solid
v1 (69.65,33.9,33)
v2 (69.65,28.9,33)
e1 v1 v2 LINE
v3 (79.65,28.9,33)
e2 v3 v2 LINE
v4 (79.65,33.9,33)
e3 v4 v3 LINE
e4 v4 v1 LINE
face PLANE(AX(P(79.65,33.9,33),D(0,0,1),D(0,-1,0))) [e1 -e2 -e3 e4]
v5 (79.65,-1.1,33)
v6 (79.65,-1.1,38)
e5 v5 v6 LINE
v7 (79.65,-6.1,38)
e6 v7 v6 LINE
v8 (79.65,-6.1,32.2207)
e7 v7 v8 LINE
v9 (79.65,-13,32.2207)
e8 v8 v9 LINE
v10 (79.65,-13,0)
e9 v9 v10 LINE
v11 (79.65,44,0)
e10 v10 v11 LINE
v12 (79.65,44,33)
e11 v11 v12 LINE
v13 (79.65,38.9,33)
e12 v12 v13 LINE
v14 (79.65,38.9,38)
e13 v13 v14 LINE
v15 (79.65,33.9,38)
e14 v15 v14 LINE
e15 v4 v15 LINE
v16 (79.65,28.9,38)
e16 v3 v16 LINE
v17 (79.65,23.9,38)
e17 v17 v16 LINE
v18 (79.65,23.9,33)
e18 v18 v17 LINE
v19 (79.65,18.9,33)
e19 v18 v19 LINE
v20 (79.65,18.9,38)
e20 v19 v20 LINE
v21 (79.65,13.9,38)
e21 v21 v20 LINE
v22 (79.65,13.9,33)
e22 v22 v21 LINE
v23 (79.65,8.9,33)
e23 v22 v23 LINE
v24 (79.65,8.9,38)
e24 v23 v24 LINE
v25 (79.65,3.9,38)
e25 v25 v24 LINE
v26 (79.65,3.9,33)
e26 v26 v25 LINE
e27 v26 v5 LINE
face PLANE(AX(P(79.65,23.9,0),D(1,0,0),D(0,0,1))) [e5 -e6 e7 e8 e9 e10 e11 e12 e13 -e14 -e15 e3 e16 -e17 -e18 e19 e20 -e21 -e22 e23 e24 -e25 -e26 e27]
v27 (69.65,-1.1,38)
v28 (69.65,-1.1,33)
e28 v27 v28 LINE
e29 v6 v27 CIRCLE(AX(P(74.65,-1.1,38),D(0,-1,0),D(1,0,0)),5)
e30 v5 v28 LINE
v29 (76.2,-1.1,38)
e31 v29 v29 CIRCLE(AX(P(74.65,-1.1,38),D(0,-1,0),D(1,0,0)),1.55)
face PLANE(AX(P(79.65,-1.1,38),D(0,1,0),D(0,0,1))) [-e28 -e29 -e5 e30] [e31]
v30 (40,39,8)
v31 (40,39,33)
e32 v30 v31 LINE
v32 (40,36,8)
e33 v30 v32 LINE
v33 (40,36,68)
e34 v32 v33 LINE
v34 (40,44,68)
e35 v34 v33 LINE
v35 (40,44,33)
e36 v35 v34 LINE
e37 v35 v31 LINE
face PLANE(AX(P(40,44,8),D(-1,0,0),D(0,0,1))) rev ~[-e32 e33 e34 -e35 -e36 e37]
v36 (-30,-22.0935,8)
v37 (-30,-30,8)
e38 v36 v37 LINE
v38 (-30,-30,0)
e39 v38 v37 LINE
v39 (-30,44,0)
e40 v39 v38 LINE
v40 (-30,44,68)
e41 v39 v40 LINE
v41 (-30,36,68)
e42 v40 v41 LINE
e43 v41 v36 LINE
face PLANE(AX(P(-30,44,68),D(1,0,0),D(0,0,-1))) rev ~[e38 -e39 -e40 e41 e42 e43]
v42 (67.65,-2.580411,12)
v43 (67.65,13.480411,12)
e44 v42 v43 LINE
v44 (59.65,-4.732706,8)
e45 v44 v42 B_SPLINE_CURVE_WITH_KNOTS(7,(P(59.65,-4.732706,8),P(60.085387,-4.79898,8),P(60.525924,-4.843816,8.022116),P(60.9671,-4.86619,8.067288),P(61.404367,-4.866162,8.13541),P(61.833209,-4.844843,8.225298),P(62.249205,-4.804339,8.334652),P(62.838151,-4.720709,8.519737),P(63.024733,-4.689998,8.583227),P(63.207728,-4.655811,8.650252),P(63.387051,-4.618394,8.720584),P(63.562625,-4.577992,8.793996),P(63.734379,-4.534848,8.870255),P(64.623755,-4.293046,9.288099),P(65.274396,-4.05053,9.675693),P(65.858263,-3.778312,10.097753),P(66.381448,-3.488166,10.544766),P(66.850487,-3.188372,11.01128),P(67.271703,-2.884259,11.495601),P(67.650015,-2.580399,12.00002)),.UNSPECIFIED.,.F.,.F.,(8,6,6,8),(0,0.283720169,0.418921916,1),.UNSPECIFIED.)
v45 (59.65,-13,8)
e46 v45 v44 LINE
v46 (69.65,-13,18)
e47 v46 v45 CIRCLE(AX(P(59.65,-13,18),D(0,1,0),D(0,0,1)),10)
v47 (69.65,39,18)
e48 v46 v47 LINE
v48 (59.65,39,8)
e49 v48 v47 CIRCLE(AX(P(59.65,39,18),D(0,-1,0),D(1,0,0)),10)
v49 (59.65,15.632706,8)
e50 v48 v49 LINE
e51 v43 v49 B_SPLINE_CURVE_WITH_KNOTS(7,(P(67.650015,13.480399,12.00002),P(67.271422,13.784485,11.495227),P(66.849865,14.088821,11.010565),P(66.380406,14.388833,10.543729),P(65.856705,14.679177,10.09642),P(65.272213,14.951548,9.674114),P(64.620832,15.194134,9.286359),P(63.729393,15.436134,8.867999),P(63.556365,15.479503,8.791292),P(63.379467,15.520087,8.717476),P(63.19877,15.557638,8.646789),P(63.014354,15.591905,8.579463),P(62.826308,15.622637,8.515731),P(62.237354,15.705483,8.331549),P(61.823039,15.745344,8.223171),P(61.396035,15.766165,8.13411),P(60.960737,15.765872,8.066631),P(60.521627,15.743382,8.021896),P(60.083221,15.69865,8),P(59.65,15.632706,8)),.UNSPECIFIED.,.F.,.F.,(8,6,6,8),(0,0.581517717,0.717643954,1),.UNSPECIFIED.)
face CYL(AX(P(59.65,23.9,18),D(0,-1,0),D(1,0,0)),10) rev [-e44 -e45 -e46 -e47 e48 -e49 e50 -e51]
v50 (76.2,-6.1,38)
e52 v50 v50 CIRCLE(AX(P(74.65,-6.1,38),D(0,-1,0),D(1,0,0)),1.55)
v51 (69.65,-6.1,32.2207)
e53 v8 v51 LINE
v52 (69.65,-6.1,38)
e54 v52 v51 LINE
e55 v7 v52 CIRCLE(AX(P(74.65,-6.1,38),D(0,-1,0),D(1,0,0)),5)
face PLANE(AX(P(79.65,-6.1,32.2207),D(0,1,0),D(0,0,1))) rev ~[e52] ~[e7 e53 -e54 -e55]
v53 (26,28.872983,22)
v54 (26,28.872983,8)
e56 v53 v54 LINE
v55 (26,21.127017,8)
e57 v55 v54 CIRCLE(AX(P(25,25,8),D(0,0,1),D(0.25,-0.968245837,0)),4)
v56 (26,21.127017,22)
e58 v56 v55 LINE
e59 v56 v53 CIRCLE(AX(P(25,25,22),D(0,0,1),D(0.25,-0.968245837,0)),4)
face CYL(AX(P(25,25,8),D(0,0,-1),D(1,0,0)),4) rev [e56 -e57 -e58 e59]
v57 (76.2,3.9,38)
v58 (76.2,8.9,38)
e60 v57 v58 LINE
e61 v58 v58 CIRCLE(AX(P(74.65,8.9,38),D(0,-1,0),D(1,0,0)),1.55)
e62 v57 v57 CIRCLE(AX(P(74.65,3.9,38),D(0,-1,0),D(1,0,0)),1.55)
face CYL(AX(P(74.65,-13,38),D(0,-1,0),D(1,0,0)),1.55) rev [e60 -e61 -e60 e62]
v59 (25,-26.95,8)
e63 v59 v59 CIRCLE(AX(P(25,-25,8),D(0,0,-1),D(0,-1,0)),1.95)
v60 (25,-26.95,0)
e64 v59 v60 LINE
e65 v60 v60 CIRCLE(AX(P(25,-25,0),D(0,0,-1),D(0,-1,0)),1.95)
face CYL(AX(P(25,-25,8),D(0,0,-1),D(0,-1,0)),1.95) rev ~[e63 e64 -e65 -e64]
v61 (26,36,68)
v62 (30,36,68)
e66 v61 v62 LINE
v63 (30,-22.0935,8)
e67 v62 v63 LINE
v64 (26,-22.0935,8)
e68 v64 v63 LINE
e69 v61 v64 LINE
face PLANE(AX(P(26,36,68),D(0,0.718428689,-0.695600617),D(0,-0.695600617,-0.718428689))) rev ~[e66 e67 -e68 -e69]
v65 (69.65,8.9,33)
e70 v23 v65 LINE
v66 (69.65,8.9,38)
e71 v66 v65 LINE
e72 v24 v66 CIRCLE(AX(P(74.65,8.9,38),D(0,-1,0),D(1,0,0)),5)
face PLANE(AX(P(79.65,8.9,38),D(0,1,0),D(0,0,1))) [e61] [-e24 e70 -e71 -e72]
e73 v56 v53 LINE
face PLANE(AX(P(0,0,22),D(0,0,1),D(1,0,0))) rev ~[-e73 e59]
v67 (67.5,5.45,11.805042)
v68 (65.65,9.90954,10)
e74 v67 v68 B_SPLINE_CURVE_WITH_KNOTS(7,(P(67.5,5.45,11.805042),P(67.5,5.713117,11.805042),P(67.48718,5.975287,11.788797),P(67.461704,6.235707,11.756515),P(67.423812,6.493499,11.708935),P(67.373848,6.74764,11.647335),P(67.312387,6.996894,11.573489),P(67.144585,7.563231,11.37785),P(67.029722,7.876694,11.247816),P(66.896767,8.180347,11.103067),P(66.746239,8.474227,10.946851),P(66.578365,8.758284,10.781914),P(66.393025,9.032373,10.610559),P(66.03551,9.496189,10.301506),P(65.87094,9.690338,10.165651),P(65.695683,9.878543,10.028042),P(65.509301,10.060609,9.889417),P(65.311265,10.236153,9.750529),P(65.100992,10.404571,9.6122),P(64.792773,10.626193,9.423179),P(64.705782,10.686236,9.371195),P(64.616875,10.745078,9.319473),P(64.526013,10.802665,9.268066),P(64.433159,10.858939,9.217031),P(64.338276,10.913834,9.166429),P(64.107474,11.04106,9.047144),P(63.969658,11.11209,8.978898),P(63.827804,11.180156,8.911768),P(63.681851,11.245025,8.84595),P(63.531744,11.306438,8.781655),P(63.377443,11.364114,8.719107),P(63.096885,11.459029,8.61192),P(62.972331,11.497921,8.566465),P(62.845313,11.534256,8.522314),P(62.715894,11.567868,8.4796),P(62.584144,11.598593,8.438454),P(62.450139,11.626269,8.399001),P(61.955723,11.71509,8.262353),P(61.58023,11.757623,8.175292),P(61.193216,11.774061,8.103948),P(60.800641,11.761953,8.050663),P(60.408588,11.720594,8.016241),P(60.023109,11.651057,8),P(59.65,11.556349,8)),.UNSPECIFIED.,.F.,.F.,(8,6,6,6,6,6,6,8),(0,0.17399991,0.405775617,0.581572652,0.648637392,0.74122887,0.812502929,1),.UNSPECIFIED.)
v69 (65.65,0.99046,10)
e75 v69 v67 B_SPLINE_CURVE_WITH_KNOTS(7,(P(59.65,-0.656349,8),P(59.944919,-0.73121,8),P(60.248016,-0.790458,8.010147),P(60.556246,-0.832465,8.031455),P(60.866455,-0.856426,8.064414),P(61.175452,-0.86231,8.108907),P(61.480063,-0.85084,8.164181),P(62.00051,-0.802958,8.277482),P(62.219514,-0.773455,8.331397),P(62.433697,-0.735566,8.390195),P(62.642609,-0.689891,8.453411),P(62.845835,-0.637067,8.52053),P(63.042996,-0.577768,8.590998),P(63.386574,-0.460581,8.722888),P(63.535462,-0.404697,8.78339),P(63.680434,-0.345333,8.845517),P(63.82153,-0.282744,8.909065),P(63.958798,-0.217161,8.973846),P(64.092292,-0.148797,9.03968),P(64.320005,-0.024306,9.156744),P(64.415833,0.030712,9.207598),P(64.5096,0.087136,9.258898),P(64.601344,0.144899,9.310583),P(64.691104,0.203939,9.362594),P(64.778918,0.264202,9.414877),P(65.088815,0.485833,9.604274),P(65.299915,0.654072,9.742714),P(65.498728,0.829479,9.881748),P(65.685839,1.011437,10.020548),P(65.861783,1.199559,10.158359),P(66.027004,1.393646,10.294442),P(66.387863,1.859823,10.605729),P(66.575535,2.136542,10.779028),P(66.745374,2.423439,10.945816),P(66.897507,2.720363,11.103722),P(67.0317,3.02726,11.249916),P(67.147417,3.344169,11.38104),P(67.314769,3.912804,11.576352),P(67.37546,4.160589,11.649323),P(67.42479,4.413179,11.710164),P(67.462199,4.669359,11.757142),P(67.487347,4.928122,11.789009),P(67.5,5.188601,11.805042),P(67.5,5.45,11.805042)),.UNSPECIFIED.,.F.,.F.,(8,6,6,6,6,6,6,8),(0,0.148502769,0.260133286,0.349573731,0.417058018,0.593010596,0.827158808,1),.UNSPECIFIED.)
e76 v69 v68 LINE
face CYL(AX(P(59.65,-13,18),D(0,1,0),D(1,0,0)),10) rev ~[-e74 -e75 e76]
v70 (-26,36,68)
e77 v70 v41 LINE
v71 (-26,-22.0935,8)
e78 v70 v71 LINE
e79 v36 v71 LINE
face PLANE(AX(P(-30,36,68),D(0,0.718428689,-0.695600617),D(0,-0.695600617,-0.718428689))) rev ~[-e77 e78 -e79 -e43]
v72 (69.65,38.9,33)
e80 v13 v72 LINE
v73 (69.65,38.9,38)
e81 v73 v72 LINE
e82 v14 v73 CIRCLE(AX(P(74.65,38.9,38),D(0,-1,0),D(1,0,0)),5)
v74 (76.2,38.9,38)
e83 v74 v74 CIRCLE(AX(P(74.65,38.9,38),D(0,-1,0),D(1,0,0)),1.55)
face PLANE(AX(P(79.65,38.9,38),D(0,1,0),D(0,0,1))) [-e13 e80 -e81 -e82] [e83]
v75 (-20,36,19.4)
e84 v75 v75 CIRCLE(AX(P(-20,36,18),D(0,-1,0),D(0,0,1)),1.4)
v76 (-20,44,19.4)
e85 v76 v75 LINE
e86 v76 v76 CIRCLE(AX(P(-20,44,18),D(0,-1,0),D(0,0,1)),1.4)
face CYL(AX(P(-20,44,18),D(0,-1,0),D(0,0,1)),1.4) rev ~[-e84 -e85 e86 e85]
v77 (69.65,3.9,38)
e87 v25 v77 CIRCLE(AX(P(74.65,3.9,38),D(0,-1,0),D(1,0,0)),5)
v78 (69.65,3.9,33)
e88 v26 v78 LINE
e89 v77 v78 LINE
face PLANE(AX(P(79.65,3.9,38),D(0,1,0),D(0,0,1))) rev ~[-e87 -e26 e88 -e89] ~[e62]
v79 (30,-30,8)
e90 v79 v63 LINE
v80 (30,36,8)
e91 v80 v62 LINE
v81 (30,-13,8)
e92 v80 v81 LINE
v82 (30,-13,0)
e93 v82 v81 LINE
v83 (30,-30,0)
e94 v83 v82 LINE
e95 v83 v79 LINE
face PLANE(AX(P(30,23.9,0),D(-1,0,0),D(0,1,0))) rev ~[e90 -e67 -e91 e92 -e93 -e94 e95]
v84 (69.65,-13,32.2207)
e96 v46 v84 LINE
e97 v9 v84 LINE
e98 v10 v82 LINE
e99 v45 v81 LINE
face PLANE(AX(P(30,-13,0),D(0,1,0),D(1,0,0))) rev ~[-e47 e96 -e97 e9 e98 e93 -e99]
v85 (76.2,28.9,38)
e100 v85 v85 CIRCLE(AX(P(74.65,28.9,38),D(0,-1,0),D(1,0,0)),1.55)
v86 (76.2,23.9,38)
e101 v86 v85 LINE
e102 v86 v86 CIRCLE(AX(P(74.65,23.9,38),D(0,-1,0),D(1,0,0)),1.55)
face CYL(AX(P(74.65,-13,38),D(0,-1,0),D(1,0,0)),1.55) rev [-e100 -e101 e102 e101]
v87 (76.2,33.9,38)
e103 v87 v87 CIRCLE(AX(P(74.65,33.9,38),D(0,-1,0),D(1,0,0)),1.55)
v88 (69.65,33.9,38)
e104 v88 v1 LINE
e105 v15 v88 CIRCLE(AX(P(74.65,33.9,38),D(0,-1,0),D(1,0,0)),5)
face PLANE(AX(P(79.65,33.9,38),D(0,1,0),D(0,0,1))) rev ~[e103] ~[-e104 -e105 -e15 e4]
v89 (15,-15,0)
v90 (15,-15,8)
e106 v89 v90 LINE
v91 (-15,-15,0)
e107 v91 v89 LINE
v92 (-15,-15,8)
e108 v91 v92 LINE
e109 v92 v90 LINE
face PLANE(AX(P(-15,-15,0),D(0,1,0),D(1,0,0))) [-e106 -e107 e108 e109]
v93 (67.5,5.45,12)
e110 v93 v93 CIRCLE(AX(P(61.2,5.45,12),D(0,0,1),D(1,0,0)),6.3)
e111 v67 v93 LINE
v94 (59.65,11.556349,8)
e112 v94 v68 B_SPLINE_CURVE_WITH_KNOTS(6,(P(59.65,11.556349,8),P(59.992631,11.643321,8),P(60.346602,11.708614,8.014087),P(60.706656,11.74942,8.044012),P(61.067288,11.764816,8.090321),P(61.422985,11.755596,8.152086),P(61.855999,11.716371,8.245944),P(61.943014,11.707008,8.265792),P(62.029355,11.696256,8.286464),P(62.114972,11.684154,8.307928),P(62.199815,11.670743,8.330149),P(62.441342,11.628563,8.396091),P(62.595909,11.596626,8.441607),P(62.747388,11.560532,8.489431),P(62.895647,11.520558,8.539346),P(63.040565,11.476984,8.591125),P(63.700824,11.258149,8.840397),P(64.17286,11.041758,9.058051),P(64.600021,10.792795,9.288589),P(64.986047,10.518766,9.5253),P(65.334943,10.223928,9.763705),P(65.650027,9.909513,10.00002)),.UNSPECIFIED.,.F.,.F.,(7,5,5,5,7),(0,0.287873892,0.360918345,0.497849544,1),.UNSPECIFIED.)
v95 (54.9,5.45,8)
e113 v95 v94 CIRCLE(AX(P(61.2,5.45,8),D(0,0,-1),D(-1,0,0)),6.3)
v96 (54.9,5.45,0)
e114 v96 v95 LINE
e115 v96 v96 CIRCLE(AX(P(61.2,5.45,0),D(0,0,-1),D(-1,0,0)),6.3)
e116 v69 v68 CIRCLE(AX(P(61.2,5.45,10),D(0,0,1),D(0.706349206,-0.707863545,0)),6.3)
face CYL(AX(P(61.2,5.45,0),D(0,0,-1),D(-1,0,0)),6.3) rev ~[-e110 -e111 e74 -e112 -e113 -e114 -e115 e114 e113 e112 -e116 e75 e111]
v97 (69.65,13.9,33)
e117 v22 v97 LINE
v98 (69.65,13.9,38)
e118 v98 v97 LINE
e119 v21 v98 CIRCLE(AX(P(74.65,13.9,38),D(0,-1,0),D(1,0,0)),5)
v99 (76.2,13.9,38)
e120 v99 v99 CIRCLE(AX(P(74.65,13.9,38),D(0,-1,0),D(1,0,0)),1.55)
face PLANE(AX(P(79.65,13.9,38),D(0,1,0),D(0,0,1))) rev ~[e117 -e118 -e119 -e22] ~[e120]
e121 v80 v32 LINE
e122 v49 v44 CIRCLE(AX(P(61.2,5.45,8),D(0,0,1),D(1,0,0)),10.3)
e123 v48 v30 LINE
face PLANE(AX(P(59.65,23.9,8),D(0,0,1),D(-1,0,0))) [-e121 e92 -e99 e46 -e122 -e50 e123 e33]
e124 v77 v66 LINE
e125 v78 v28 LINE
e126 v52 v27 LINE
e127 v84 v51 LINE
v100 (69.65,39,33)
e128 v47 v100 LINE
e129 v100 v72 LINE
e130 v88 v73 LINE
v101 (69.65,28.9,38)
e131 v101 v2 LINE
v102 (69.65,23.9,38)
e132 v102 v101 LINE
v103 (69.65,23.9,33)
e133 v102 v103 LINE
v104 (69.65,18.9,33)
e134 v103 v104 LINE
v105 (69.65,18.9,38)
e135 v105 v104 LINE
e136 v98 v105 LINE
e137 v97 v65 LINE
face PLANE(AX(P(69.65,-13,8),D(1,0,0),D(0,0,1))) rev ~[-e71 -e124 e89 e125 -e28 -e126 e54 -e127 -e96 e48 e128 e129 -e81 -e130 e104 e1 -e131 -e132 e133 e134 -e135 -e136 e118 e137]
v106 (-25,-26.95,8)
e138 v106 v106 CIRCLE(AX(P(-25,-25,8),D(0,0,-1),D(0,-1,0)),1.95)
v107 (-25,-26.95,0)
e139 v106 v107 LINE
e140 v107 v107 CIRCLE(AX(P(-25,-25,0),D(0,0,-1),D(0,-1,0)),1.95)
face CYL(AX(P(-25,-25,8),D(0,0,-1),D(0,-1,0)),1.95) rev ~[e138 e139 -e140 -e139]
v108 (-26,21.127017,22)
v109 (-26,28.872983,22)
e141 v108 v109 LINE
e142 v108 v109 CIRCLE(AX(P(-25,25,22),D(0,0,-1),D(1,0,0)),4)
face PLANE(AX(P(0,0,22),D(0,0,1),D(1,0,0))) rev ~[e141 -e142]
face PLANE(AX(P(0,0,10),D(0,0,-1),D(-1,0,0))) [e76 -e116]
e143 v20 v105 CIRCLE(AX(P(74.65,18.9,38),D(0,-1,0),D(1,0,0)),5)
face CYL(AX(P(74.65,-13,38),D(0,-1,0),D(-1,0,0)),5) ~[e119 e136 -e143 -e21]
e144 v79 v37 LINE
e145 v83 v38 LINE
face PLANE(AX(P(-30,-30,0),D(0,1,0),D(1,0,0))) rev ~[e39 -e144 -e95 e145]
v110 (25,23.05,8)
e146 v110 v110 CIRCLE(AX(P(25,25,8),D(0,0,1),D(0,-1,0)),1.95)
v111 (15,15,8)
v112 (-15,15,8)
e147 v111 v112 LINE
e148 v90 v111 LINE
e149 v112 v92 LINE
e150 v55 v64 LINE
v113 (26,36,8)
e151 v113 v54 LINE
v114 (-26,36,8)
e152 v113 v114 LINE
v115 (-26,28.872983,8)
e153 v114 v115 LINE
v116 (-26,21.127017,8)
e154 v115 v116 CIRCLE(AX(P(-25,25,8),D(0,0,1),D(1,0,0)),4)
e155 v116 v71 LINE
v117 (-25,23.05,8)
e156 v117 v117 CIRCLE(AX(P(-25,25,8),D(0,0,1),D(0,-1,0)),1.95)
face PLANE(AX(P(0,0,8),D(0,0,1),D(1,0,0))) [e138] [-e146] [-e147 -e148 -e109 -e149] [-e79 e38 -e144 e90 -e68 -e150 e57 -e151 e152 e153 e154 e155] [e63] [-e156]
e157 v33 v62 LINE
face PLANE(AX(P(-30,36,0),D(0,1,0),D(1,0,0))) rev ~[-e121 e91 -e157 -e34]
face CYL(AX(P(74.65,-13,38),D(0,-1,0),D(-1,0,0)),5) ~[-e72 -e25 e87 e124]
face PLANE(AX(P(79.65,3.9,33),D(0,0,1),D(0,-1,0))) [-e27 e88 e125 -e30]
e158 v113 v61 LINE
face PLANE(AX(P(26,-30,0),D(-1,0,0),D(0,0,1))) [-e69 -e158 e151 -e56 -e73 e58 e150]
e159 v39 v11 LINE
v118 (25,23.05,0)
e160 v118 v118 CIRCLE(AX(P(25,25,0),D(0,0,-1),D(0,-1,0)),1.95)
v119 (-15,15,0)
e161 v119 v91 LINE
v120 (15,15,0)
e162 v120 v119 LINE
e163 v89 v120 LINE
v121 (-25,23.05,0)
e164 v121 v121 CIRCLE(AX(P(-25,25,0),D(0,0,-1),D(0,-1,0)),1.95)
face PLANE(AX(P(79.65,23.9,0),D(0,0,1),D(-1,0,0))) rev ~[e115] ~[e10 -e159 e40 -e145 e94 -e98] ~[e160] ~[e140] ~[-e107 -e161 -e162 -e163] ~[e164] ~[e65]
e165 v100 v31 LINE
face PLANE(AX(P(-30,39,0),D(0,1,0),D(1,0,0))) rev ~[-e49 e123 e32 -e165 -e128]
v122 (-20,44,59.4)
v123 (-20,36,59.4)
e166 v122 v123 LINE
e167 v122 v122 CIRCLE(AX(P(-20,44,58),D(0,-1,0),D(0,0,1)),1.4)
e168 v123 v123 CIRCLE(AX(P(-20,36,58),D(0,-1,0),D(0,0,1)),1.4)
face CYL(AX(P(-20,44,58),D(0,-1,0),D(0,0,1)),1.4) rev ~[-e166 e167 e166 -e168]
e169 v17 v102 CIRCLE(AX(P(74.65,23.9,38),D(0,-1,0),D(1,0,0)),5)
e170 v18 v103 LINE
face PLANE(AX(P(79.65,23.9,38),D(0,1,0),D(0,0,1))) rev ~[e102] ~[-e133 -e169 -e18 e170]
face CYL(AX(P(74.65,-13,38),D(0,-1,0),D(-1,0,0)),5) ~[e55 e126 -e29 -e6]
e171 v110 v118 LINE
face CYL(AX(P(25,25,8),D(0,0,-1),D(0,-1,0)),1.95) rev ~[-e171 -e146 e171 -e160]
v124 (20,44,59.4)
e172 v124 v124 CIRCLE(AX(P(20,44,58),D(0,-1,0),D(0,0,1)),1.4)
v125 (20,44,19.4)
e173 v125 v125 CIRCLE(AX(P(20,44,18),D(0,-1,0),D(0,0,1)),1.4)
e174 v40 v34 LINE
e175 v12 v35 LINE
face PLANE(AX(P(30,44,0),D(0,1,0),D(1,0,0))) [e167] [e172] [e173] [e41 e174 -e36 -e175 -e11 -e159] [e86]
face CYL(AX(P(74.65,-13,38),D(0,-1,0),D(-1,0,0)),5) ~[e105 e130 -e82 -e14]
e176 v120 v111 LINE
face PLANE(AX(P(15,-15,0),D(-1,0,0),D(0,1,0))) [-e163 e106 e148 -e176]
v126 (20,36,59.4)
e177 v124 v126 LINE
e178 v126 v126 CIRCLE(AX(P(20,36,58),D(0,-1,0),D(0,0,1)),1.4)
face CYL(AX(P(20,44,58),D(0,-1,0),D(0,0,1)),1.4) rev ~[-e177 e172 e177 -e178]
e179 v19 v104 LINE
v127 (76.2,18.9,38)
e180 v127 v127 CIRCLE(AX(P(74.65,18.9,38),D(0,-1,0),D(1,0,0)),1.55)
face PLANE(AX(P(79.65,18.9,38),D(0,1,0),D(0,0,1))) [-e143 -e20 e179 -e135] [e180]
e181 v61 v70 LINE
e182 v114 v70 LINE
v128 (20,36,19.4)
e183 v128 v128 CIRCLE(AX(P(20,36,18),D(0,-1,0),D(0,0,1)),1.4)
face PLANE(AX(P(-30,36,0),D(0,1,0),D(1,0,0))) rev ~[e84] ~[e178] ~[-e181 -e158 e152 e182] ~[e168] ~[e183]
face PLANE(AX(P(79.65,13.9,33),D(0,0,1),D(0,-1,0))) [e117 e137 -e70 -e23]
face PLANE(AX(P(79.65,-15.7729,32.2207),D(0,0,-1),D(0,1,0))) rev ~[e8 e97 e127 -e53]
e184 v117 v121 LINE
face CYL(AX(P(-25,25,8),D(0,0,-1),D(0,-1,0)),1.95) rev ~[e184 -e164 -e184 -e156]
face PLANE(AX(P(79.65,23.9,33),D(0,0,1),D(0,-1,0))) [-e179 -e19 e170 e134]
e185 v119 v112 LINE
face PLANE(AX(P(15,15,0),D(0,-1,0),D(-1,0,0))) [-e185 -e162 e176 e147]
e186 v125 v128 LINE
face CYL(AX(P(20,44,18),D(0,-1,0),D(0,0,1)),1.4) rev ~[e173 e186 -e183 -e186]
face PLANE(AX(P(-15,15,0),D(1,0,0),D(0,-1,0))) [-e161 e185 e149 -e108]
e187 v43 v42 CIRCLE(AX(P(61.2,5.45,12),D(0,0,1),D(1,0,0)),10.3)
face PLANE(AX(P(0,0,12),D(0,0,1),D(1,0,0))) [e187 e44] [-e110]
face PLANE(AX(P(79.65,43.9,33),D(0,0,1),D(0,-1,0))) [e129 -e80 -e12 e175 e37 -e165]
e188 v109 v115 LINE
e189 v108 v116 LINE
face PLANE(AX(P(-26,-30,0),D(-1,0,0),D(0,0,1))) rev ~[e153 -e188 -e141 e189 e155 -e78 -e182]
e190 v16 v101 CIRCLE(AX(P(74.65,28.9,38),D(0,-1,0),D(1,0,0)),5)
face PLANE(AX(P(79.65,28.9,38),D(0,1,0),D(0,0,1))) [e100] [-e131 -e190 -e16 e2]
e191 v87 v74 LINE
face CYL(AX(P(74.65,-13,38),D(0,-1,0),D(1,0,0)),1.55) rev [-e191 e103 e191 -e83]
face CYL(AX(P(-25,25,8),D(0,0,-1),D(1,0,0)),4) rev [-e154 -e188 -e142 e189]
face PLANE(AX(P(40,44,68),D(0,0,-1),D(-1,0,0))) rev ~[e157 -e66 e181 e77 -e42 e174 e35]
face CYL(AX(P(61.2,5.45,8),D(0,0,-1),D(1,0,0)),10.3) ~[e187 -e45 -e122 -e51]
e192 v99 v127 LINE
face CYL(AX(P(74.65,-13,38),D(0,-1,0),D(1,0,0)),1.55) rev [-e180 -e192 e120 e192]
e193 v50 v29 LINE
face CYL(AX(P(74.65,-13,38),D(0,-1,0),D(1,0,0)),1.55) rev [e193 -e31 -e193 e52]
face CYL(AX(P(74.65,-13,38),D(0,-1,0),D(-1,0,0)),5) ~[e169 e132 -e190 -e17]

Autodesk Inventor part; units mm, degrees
ref_plane "YZ Plane" through (0, 0, 0) normal (1, 0, 0) x (0, 1, 0)
ref_plane "XZ Plane" through (0, 0, 0) normal (0, 1, 0) x (-1, 0, 0)
ref_plane "XY Plane" through (0, 0, 0) normal (0, 0, 1) x (1, 0, 0)
ref_plane "Work Plane1" through (0, 0, 0) normal (0, 0, 1) x (1, 0, 0)
sketch "Sketch1" plane through (0, 0, 0) normal (0, 0, 1) x (1, 0, 0)
  line L0 (28, 30) -> (30, 28) construction
  line L1 (28, 30) -> (-28, 30) construction
  line L2 (-30, 28) -> (-28, 30) construction
  line L3 (-30, 28) -> (-30, -28) construction
  line L4 (-28, -30) -> (-30, -28) construction
  line L5 (-28, -30) -> (28, -30) construction
  line L6 (30, -28) -> (28, -30) construction
  line L7 (30, -28) -> (30, 28) construction
  circle A0 centre (-17.5, -17.5) radius 1.95 projected
  circle A1 centre (17.5, 17.5) radius 1.95 projected
  circle A2 centre (17.5, -17.5) radius 1.95 projected
  circle A3 centre (-17.5, 17.5) radius 1.95 projected
  circle A4 centre (0, 0) radius 7.5 construction
  line L8 (-52.85, 44) -> (87.15, 44) construction
  line L9 (-30, -30) -> (30, -30)
  line L10 (30, -30) -> (30, 44)
  line L11 (30, 44) -> (-30, 44)
  line L12 (-30, 44) -> (-30, -30)
  line L13 (42.65, -13) -> (79.65, -13) construction
  line L14 (42.65, 36.7) -> (42.65, -13) construction
  line L15 (79.65, 36.7) -> (42.65, 36.7) construction
  line L16 (79.65, 36.7) -> (79.65, -13) construction
  line L17 (79.65, -13) -> (30, -13)
  line L18 (30, -13) -> (30, 23.9)
  line L19 (30, 23.9) -> (79.65, 23.9)
  line L20 (79.65, 23.9) -> (79.65, -13)
  line L21 (-15, -15) -> (15, -15)
  line L22 (15, -15) -> (15, 15)
  line L23 (15, 15) -> (-15, 15)
  line L24 (-15, 15) -> (-15, -15)
  line L25 (-15, -15) -> (15, 15) construction
  line L26 (15, -15) -> (-15, 15) construction
  circle A5 centre (48.55, -3.3) radius 4.5 projected
  circle A6 centre (61.15, 21.7) radius 4.5 projected
  circle A7 centre (73.75, -3.3) radius 4.5 projected
  line L27 (25, -25) -> (-25, -25) construction
  line L28 (-25, -25) -> (-25, 25) construction
  line L29 (-25, 25) -> (25, 25) construction
  line L30 (25, 25) -> (25, -25) construction
  line L31 (25, -25) -> (-25, 25) construction
  line L32 (-25, -25) -> (25, 25) construction
  circle A8 centre (-25, 25) radius 1.75
  circle A9 centre (25, 25) radius 1.75
  circle A10 centre (25, -25) radius 1.75
  circle A11 centre (-25, -25) radius 1.75
  point P0 (0, 0)
  dimension "d6" = 30
  dimension "d7" = 30
  dimension "d57" = 50
  dimension "d58" = 50
  dimension "d59" = 3.5
  dimension "d60" = 3.5
  dimension "d61" = 3.5
  dimension "d62" = 3.5
extrude "Extrusion1" add sketch "Sketch1" along normal blind 8 contours A0 | A1 | A2 | A3 | L12 L11 L10 L9 | L10 L19 A6 L20 L17 | L19 A6 | A5 | A7 picked at (60.9501, 21.68)
sketch "Sketch2" plane through (-30, 44, 0) normal (0, 1, 0) x (1, 0, 0)
  line L0 (60, 0) -> (60, -8) projected
  line L1 (0, 0) -> (0, -8) projected
  line L2 (60, -8) -> (0, -8) projected
  circle A0 centre (88.9869, -30.1976) radius 1.4 construction
  circle A1 centre (91.15, -56.0499) radius 15 construction
  line L3 (0, -8) -> (70, -8)
  line L4 (70, -8) -> (70, -68)
  line L5 (70, -68) -> (0, -68)
  line L6 (0, -68) -> (0, -8)
  point P0 (30, 0)
  dimension "d2" = 70
  dimension "d3" = 60
extrude "Extrusion2" add sketch "Sketch2" against normal blind 8
sketch "Sketch3" plane through (0, 0, 8) normal (0, 0, 1) x (1, 0, 0)
  line L0 (30, 36) -> (-30, 36) projected
  line L1 (-30, 36) -> (-30, -30) projected
  line L2 (-30, -30) -> (30, -30) projected
  line L3 (30, -30) -> (30, -13) projected
  line L4 (30, -13) -> (79.65, -13) projected
  line L5 (79.65, -13) -> (79.65, 23.9) projected
  line L6 (79.65, 23.9) -> (30, 23.9) projected
  line L7 (30, 23.9) -> (30, 36) projected
  point P0 (0, 0)
sketch "Sketch4" plane through (-30, -30, 0) normal (-1, 0, 0) x (0, 0, 1)
  line L0 (0, 74) -> (0, 0) projected
  line L1 (0, 0) -> (8, 0) projected
  line L2 (8, 66) -> (8, 0) projected
  line L3 (68, 66) -> (8, 66) projected
  line L4 (68, 74) -> (68, 66) projected
  line L5 (0, 74) -> (68, 74) projected
  line L6 (68, 66) -> (8, 7.9065)
  line L7 (8, 53.9) -> (8, 66) projected
  line L8 (8, 7.9065) -> (8, 66)
  line L9 (8, 66) -> (68, 66) projected
  line L10 (8, 66) -> (68, 66)
  point P0 (0, 30)
extrude "Extrusion3" add sketch "Sketch4" against normal blind 4
pattern_linear "Rectangular Pattern1" count 2 spacing 56 along (1, 0, 0) of "Extrusion3"
sketch "Sketch7" plane through (30, 23.9, 0) normal (0, 1, 0) x (1, 0, 0)
  arc A0 (57.15, -64.5499) -> (60.65, -61.0499) centre (57.15, -61.0499) ccw projected
  line L0 (60.65, -2.1699) -> (60.65, -61.0499) projected
  arc A1 (60.65, -2.1699) -> (57.15, 1.3301) centre (57.15, -2.1699) ccw projected
  line L1 (-82.85, 1.3301) -> (57.15, 1.3301) projected
  arc A2 (-82.85, 1.3301) -> (-86.35, -2.1699) centre (-82.85, -2.1699) ccw projected
  line L2 (-86.35, -61.0499) -> (-86.35, -2.1699) projected
  arc A3 (-86.35, -61.0499) -> (-82.85, -64.5499) centre (-82.85, -61.0499) ccw projected
  line L3 (57.15, -64.5499) -> (-82.85, -64.5499) projected
  line L4 (49.65, 0) -> (49.65, -8) projected
  line L5 (49.65, -8) -> (39.65, -8)
  line L6 (39.65, -8) -> (39.65, -38)
  line L7 (39.65, -38) -> (49.65, -38) construction
  line L8 (49.65, -38) -> (49.65, -8)
  arc A4 (39.65, -38) -> (49.65, -38) centre (44.65, -38) ccw
  circle A5 centre (44.65, -38) radius 1.55
  point P0 (-30, 0)
  dimension "d25" = 10
  dimension "d26" = 30
  dimension "d27" = 3.1
extrude "Extrusion5" add sketch "Sketch7" along normal up to surface (57 mm away) from surface at -36.9 contours L8 A4 L6 L5
fillet "Fillet1" radius 10 1 edges at (69.65, 5.45, 8)
sketch "Sketch8" plane through (79.65, -13, 0) normal (1, 0, 0) x (0, 0, -1)
  line L0 (0, 0) -> (0, 36.9) projected
  line L1 (0, 36.9) -> (-8, 36.9) projected
  line L2 (-38, 0) -> (-38, 57) projected
  line L3 (0, 0) -> (-38, 0) projected
  line L4 (-38, 36.9) -> (-43, 36.9) projected
  line L5 (-43, 36.9) -> (-33, 36.9)
  line L6 (-33, 36.9) -> (-33, 31.9)
  line L7 (-33, 31.9) -> (-43, 31.9)
  line L8 (-43, 31.9) -> (-43, 36.9)
  line L9 (-8, 57) -> (-8, 36.9) projected
  line L10 (-8, 57) -> (-38, 57) projected
  point P0 (0, 13)
  dimension "d31" = 10
  dimension "d32" = 5
extrude "Extrusion6" cut sketch "Sketch8" against normal up to surface (10 mm away) contours L7 L8 L4 L2 | L2 L5 L6 L7
pattern_linear "Rectangular Pattern2" count 6 spacing 10 along (0, -1, 0) count 3 spacing 10 along (0, 1, 0) of "Extrusion6"
sketch "Sketch9" plane through (0, 0, 0) normal (0, 0, -1) x (-1, 0, 0)
  line L0 (15, 15) -> (15, -15) projected
  line L1 (15, -15) -> (-15, -15) projected
  line L2 (-15, -15) -> (-15, 15) projected
  line L3 (-15, 15) -> (15, 15) projected
  line L4 (-79.65, -13) -> (-79.65, 23.9) projected
  line L5 (-30, -13) -> (-79.65, -13) projected
  line L6 (30, -30) -> (-30, -30) projected
  line L7 (30, 44) -> (30, -30) projected
  line L8 (-30, 44) -> (30, 44) projected
  line L9 (-79.65, 23.9) -> (-30, 23.9) projected
  circle A0 centre (-61.2, 5.45) radius 18.45 construction
  circle A1 centre (-61.2, 5.45) radius 6.3
  line L10 (-30, 23.9) -> (-30, 44) projected
  line L11 (-30, -30) -> (-30, -13) projected
  point P0 (0, 0)
  dimension "d38" = 12.6
extrude "Extrusion7" cut sketch "Sketch9" against normal blind 10 contours A1
sketch "Sketch10" plane through (0, 0, 8) normal (0, 0, 1) x (1, 0, 0)
  circle A0 centre (61.2, 5.45) radius 6.3 projected
  circle A1 centre (61.2, 5.45) radius 10.3
  point P0 (0, 0)
  dimension "d47" = 4
extrude "Extrusion8" add sketch "Sketch10" along normal blind 4
sketch "Sketch12" plane through (-30, 44, 0) normal (0, 1, 0) x (1, 0, 0)
  line L0 (60, 0) -> (0, 0) projected
  line L1 (0, 0) -> (0, -68) projected
  line L2 (70, -68) -> (0, -68) projected
  line L3 (70, -8) -> (70, -68) projected
  line L4 (60, -8) -> (70, -8) projected
  line L5 (60, 0) -> (60, -8) projected
  circle A0 centre (35, -33) radius 35
  line L6 (50, -58) -> (10, -58) construction
  line L7 (10, -58) -> (10, -18) construction
  line L8 (10, -18) -> (50, -18) construction
  line L9 (50, -18) -> (50, -58) construction
  line L10 (50, -58) -> (10, -18) construction
  line L11 (10, -58) -> (50, -18) construction
  point P0 (30, 0)
  point P1 (30, -38)
  dimension "d48" = 40
  dimension "d49" = 40
hole "Hole2" at (-20, 44, 58) at (-20, 44, 18) at (20, 44, 58) at (20, 44, 18) direction (0, -1, 0) diameter 2.8 end through all
sketch "Sketch13" plane through (0, 0, 8) normal (0, 0, 1) x (1, 0, 0)
  arc A0 (-26, -26.4361) -> (-26, -23.5639) centre (-25, -25) ccw projected
  arc A1 (-26, 23.5639) -> (-26, 26.4361) centre (-25, 25) ccw projected
  arc A2 (26, 26.4361) -> (26, 23.5639) centre (25, 25) ccw projected
  arc A3 (26, -23.5639) -> (26, -26.4361) centre (25, -25) ccw projected
  point P0 (0, 0)
hole "Hole3" at (-25, -25, 8) at (-25, 25, 8) at (25, 25, 8) at (25, -25, 8) direction (0, 0, -1) diameter 3.9 depth 10 tip angle 118
sketch "Sketch14" plane through (0, 0, 8) normal (0, 0, 1) x (1, 0, 0)
  arc A0 (26, 26.6741) -> (26, 23.3259) centre (25, 25) ccw projected
  line L0 (26, 26.6741) -> (26, 36) projected
  line L1 (26, 36) -> (-26, 36) projected
  line L2 (-26, 36) -> (-26, 26.6741) projected
  arc A1 (-26, 23.3259) -> (-26, 26.6741) centre (-25, 25) ccw projected
  line L3 (-26, 23.3259) -> (-26, -22.0935) projected
  line L4 (-26, -22.0935) -> (-30, -22.0935) projected
  line L5 (-30, -22.0935) -> (-30, -30) projected
  line L6 (-30, -30) -> (30, -30) projected
  line L7 (30, -30) -> (30, -22.0935) projected
  line L8 (30, -22.0935) -> (26, -22.0935) projected
  line L9 (26, -22.0935) -> (26, 23.3259) projected
  circle A2 centre (-25, -25) radius 1.95 projected
  circle A3 centre (25, -25) radius 1.95 projected
  line L10 (-15, -15) -> (-15, 15) projected
  line L11 (-15, 15) -> (15, 15) projected
  line L12 (15, 15) -> (15, -15) projected
  line L13 (15, -15) -> (-15, -15) projected
  circle A4 centre (-25, 25) radius 4
  arc A5 (26, 26.6741) -> (26, 23.3259) centre (25, 25) ccw projected
  circle A6 centre (25, 25) radius 4
  point P0 (0, 0)
  dimension "d70" = 8
  dimension "d71" = 8
extrude "Extrusion10" cut sketch "Sketch14" along normal blind 14 contours L0 A6 L9 A0 | A0 L9 A6 L0 | A4 L3 A1 L2 | L2 A1 L3 A4
sketch "Sketch15" plane through (30, 23.9, 0) normal (0, 1, 0) x (1, 0, 0)
  line L0 (49.65, 0) -> (49.65, -8) projected
  line L1 (49.65, 0) -> (0, 0) projected
  line L2 (0, -8) -> (0, 0) projected
  line L3 (29.65, -8) -> (0, -8) projected
  arc A0 (39.65, -18) -> (29.65, -8) centre (29.65, -18) ccw projected
  line L4 (39.65, -8) -> (39.65, -18) projected
  line L5 (49.65, -8) -> (39.65, -8) projected
  point P0 (-30, 0)
extrude "Extrusion11" add sketch "Sketch15" along normal up to surface (20.1 mm away)
sketch "Sketch16" plane through (-30, 44, 0) normal (0, 1, 0) x (1, 0, 0)
  line L0 (109.65, -33) -> (99.65, -33) projected
  line L1 (70, -8) -> (70, -68) projected
  line L2 (0, 0) -> (109.65, 0) projected
  line L3 (109.65, -33) -> (70, -33)
  line L4 (70, -33) -> (70, 0)
  line L5 (70, 0) -> (109.65, 0)
  line L6 (109.65, 0) -> (109.65, -33)
  point P0 (30, 0)
extrude "Extrusion12" add sketch "Sketch16" against normal blind 5
sketch "Sketch17" plane through (79.65, -13, 0) normal (1, 0, 0) x (0, 0, -1)
  line L0 (-33, 56.9) -> (-33, 51.9) projected
  line L1 (-33, 51.9) -> (-38, 51.9) projected
  line L2 (-38, 46.9) -> (-38, 51.9) projected
  line L3 (-38, 46.9) -> (-33, 46.9) projected
  line L4 (-33, 46.9) -> (-33, 41.9) projected
  line L5 (-33, 41.9) -> (-38, 41.9) projected
  line L6 (-38, 36.9) -> (-38, 41.9) projected
  line L7 (-38, 36.9) -> (-33, 36.9) projected
  line L8 (-33, 36.9) -> (-33, 31.9) projected
  line L9 (-33, 31.9) -> (-38, 31.9) projected
  line L10 (-38, 26.9) -> (-38, 31.9) projected
  line L11 (-38, 26.9) -> (-33, 26.9) projected
  line L12 (-33, 26.9) -> (-33, 21.9) projected
  line L13 (-33, 21.9) -> (-38, 21.9) projected
  line L14 (-38, 16.9) -> (-38, 21.9) projected
  line L15 (-38, 16.9) -> (-33, 16.9) projected
  line L16 (-33, 16.9) -> (-33, 11.9) projected
  line L17 (-33, 11.9) -> (-38, 11.9) projected
  line L18 (-38, 6.9) -> (-38, 11.9) projected
  line L19 (-38, 6.9) -> (-33, 6.9) projected
  line L20 (-33, 6.9) -> (-33, 1.9) projected
  line L21 (-33, 1.9) -> (-38, 1.9) projected
  line L22 (-38, 0) -> (-38, 1.9) projected
  line L23 (0, 0) -> (-38, 0) projected
  line L24 (0, 0) -> (0, 57) projected
  line L25 (0, 57) -> (-38, 57) projected
  line L26 (-38, 56.9) -> (-38, 57) projected
  line L27 (-38, 56.9) -> (-33, 56.9) projected
  line L28 (-33, 56.9) -> (-33, 51.9) projected
  line L29 (-33, 51.9) -> (-38, 51.9)
  line L30 (-38, 51.9) -> (-38, 57.6693)
  line L31 (-38, 57.6693) -> (-33, 57.6693)
  line L32 (-33, 57.6693) -> (-33, 51.9)
  line L33 (-32.2207, 6.9) -> (-43.7781, 6.9)
  line L34 (-43.7781, 6.9) -> (-43.7781, -2.7729)
  line L35 (-43.7781, -2.7729) -> (-32.2207, -2.7729)
  line L36 (-32.2207, -2.7729) -> (-32.2207, 6.9)
  line L37 (-33, 51.9) -> (-45.418, 51.9)
  line L38 (-45.418, 51.9) -> (-45.418, 59.4654)
  line L39 (-45.418, 59.4654) -> (-33, 59.4654)
  line L40 (-33, 59.4654) -> (-33, 51.9)
  point P0 (0, 13)
extrude "Extrusion13" cut sketch "Sketch17" against normal up to surface (10 mm away) contours L0 L1 L30 L27 | L27 L26 L25 L32 | L30 L37 L38 L39 L40 L31 L26 | L25 L30 L31 L32 | L36 L35 L34 L33 L19 L20 L21 L22 L23 | L23 L22 L21 L20 L33 L36
properties part number "cellSTORM_cellphone_objectivelens_mount"
